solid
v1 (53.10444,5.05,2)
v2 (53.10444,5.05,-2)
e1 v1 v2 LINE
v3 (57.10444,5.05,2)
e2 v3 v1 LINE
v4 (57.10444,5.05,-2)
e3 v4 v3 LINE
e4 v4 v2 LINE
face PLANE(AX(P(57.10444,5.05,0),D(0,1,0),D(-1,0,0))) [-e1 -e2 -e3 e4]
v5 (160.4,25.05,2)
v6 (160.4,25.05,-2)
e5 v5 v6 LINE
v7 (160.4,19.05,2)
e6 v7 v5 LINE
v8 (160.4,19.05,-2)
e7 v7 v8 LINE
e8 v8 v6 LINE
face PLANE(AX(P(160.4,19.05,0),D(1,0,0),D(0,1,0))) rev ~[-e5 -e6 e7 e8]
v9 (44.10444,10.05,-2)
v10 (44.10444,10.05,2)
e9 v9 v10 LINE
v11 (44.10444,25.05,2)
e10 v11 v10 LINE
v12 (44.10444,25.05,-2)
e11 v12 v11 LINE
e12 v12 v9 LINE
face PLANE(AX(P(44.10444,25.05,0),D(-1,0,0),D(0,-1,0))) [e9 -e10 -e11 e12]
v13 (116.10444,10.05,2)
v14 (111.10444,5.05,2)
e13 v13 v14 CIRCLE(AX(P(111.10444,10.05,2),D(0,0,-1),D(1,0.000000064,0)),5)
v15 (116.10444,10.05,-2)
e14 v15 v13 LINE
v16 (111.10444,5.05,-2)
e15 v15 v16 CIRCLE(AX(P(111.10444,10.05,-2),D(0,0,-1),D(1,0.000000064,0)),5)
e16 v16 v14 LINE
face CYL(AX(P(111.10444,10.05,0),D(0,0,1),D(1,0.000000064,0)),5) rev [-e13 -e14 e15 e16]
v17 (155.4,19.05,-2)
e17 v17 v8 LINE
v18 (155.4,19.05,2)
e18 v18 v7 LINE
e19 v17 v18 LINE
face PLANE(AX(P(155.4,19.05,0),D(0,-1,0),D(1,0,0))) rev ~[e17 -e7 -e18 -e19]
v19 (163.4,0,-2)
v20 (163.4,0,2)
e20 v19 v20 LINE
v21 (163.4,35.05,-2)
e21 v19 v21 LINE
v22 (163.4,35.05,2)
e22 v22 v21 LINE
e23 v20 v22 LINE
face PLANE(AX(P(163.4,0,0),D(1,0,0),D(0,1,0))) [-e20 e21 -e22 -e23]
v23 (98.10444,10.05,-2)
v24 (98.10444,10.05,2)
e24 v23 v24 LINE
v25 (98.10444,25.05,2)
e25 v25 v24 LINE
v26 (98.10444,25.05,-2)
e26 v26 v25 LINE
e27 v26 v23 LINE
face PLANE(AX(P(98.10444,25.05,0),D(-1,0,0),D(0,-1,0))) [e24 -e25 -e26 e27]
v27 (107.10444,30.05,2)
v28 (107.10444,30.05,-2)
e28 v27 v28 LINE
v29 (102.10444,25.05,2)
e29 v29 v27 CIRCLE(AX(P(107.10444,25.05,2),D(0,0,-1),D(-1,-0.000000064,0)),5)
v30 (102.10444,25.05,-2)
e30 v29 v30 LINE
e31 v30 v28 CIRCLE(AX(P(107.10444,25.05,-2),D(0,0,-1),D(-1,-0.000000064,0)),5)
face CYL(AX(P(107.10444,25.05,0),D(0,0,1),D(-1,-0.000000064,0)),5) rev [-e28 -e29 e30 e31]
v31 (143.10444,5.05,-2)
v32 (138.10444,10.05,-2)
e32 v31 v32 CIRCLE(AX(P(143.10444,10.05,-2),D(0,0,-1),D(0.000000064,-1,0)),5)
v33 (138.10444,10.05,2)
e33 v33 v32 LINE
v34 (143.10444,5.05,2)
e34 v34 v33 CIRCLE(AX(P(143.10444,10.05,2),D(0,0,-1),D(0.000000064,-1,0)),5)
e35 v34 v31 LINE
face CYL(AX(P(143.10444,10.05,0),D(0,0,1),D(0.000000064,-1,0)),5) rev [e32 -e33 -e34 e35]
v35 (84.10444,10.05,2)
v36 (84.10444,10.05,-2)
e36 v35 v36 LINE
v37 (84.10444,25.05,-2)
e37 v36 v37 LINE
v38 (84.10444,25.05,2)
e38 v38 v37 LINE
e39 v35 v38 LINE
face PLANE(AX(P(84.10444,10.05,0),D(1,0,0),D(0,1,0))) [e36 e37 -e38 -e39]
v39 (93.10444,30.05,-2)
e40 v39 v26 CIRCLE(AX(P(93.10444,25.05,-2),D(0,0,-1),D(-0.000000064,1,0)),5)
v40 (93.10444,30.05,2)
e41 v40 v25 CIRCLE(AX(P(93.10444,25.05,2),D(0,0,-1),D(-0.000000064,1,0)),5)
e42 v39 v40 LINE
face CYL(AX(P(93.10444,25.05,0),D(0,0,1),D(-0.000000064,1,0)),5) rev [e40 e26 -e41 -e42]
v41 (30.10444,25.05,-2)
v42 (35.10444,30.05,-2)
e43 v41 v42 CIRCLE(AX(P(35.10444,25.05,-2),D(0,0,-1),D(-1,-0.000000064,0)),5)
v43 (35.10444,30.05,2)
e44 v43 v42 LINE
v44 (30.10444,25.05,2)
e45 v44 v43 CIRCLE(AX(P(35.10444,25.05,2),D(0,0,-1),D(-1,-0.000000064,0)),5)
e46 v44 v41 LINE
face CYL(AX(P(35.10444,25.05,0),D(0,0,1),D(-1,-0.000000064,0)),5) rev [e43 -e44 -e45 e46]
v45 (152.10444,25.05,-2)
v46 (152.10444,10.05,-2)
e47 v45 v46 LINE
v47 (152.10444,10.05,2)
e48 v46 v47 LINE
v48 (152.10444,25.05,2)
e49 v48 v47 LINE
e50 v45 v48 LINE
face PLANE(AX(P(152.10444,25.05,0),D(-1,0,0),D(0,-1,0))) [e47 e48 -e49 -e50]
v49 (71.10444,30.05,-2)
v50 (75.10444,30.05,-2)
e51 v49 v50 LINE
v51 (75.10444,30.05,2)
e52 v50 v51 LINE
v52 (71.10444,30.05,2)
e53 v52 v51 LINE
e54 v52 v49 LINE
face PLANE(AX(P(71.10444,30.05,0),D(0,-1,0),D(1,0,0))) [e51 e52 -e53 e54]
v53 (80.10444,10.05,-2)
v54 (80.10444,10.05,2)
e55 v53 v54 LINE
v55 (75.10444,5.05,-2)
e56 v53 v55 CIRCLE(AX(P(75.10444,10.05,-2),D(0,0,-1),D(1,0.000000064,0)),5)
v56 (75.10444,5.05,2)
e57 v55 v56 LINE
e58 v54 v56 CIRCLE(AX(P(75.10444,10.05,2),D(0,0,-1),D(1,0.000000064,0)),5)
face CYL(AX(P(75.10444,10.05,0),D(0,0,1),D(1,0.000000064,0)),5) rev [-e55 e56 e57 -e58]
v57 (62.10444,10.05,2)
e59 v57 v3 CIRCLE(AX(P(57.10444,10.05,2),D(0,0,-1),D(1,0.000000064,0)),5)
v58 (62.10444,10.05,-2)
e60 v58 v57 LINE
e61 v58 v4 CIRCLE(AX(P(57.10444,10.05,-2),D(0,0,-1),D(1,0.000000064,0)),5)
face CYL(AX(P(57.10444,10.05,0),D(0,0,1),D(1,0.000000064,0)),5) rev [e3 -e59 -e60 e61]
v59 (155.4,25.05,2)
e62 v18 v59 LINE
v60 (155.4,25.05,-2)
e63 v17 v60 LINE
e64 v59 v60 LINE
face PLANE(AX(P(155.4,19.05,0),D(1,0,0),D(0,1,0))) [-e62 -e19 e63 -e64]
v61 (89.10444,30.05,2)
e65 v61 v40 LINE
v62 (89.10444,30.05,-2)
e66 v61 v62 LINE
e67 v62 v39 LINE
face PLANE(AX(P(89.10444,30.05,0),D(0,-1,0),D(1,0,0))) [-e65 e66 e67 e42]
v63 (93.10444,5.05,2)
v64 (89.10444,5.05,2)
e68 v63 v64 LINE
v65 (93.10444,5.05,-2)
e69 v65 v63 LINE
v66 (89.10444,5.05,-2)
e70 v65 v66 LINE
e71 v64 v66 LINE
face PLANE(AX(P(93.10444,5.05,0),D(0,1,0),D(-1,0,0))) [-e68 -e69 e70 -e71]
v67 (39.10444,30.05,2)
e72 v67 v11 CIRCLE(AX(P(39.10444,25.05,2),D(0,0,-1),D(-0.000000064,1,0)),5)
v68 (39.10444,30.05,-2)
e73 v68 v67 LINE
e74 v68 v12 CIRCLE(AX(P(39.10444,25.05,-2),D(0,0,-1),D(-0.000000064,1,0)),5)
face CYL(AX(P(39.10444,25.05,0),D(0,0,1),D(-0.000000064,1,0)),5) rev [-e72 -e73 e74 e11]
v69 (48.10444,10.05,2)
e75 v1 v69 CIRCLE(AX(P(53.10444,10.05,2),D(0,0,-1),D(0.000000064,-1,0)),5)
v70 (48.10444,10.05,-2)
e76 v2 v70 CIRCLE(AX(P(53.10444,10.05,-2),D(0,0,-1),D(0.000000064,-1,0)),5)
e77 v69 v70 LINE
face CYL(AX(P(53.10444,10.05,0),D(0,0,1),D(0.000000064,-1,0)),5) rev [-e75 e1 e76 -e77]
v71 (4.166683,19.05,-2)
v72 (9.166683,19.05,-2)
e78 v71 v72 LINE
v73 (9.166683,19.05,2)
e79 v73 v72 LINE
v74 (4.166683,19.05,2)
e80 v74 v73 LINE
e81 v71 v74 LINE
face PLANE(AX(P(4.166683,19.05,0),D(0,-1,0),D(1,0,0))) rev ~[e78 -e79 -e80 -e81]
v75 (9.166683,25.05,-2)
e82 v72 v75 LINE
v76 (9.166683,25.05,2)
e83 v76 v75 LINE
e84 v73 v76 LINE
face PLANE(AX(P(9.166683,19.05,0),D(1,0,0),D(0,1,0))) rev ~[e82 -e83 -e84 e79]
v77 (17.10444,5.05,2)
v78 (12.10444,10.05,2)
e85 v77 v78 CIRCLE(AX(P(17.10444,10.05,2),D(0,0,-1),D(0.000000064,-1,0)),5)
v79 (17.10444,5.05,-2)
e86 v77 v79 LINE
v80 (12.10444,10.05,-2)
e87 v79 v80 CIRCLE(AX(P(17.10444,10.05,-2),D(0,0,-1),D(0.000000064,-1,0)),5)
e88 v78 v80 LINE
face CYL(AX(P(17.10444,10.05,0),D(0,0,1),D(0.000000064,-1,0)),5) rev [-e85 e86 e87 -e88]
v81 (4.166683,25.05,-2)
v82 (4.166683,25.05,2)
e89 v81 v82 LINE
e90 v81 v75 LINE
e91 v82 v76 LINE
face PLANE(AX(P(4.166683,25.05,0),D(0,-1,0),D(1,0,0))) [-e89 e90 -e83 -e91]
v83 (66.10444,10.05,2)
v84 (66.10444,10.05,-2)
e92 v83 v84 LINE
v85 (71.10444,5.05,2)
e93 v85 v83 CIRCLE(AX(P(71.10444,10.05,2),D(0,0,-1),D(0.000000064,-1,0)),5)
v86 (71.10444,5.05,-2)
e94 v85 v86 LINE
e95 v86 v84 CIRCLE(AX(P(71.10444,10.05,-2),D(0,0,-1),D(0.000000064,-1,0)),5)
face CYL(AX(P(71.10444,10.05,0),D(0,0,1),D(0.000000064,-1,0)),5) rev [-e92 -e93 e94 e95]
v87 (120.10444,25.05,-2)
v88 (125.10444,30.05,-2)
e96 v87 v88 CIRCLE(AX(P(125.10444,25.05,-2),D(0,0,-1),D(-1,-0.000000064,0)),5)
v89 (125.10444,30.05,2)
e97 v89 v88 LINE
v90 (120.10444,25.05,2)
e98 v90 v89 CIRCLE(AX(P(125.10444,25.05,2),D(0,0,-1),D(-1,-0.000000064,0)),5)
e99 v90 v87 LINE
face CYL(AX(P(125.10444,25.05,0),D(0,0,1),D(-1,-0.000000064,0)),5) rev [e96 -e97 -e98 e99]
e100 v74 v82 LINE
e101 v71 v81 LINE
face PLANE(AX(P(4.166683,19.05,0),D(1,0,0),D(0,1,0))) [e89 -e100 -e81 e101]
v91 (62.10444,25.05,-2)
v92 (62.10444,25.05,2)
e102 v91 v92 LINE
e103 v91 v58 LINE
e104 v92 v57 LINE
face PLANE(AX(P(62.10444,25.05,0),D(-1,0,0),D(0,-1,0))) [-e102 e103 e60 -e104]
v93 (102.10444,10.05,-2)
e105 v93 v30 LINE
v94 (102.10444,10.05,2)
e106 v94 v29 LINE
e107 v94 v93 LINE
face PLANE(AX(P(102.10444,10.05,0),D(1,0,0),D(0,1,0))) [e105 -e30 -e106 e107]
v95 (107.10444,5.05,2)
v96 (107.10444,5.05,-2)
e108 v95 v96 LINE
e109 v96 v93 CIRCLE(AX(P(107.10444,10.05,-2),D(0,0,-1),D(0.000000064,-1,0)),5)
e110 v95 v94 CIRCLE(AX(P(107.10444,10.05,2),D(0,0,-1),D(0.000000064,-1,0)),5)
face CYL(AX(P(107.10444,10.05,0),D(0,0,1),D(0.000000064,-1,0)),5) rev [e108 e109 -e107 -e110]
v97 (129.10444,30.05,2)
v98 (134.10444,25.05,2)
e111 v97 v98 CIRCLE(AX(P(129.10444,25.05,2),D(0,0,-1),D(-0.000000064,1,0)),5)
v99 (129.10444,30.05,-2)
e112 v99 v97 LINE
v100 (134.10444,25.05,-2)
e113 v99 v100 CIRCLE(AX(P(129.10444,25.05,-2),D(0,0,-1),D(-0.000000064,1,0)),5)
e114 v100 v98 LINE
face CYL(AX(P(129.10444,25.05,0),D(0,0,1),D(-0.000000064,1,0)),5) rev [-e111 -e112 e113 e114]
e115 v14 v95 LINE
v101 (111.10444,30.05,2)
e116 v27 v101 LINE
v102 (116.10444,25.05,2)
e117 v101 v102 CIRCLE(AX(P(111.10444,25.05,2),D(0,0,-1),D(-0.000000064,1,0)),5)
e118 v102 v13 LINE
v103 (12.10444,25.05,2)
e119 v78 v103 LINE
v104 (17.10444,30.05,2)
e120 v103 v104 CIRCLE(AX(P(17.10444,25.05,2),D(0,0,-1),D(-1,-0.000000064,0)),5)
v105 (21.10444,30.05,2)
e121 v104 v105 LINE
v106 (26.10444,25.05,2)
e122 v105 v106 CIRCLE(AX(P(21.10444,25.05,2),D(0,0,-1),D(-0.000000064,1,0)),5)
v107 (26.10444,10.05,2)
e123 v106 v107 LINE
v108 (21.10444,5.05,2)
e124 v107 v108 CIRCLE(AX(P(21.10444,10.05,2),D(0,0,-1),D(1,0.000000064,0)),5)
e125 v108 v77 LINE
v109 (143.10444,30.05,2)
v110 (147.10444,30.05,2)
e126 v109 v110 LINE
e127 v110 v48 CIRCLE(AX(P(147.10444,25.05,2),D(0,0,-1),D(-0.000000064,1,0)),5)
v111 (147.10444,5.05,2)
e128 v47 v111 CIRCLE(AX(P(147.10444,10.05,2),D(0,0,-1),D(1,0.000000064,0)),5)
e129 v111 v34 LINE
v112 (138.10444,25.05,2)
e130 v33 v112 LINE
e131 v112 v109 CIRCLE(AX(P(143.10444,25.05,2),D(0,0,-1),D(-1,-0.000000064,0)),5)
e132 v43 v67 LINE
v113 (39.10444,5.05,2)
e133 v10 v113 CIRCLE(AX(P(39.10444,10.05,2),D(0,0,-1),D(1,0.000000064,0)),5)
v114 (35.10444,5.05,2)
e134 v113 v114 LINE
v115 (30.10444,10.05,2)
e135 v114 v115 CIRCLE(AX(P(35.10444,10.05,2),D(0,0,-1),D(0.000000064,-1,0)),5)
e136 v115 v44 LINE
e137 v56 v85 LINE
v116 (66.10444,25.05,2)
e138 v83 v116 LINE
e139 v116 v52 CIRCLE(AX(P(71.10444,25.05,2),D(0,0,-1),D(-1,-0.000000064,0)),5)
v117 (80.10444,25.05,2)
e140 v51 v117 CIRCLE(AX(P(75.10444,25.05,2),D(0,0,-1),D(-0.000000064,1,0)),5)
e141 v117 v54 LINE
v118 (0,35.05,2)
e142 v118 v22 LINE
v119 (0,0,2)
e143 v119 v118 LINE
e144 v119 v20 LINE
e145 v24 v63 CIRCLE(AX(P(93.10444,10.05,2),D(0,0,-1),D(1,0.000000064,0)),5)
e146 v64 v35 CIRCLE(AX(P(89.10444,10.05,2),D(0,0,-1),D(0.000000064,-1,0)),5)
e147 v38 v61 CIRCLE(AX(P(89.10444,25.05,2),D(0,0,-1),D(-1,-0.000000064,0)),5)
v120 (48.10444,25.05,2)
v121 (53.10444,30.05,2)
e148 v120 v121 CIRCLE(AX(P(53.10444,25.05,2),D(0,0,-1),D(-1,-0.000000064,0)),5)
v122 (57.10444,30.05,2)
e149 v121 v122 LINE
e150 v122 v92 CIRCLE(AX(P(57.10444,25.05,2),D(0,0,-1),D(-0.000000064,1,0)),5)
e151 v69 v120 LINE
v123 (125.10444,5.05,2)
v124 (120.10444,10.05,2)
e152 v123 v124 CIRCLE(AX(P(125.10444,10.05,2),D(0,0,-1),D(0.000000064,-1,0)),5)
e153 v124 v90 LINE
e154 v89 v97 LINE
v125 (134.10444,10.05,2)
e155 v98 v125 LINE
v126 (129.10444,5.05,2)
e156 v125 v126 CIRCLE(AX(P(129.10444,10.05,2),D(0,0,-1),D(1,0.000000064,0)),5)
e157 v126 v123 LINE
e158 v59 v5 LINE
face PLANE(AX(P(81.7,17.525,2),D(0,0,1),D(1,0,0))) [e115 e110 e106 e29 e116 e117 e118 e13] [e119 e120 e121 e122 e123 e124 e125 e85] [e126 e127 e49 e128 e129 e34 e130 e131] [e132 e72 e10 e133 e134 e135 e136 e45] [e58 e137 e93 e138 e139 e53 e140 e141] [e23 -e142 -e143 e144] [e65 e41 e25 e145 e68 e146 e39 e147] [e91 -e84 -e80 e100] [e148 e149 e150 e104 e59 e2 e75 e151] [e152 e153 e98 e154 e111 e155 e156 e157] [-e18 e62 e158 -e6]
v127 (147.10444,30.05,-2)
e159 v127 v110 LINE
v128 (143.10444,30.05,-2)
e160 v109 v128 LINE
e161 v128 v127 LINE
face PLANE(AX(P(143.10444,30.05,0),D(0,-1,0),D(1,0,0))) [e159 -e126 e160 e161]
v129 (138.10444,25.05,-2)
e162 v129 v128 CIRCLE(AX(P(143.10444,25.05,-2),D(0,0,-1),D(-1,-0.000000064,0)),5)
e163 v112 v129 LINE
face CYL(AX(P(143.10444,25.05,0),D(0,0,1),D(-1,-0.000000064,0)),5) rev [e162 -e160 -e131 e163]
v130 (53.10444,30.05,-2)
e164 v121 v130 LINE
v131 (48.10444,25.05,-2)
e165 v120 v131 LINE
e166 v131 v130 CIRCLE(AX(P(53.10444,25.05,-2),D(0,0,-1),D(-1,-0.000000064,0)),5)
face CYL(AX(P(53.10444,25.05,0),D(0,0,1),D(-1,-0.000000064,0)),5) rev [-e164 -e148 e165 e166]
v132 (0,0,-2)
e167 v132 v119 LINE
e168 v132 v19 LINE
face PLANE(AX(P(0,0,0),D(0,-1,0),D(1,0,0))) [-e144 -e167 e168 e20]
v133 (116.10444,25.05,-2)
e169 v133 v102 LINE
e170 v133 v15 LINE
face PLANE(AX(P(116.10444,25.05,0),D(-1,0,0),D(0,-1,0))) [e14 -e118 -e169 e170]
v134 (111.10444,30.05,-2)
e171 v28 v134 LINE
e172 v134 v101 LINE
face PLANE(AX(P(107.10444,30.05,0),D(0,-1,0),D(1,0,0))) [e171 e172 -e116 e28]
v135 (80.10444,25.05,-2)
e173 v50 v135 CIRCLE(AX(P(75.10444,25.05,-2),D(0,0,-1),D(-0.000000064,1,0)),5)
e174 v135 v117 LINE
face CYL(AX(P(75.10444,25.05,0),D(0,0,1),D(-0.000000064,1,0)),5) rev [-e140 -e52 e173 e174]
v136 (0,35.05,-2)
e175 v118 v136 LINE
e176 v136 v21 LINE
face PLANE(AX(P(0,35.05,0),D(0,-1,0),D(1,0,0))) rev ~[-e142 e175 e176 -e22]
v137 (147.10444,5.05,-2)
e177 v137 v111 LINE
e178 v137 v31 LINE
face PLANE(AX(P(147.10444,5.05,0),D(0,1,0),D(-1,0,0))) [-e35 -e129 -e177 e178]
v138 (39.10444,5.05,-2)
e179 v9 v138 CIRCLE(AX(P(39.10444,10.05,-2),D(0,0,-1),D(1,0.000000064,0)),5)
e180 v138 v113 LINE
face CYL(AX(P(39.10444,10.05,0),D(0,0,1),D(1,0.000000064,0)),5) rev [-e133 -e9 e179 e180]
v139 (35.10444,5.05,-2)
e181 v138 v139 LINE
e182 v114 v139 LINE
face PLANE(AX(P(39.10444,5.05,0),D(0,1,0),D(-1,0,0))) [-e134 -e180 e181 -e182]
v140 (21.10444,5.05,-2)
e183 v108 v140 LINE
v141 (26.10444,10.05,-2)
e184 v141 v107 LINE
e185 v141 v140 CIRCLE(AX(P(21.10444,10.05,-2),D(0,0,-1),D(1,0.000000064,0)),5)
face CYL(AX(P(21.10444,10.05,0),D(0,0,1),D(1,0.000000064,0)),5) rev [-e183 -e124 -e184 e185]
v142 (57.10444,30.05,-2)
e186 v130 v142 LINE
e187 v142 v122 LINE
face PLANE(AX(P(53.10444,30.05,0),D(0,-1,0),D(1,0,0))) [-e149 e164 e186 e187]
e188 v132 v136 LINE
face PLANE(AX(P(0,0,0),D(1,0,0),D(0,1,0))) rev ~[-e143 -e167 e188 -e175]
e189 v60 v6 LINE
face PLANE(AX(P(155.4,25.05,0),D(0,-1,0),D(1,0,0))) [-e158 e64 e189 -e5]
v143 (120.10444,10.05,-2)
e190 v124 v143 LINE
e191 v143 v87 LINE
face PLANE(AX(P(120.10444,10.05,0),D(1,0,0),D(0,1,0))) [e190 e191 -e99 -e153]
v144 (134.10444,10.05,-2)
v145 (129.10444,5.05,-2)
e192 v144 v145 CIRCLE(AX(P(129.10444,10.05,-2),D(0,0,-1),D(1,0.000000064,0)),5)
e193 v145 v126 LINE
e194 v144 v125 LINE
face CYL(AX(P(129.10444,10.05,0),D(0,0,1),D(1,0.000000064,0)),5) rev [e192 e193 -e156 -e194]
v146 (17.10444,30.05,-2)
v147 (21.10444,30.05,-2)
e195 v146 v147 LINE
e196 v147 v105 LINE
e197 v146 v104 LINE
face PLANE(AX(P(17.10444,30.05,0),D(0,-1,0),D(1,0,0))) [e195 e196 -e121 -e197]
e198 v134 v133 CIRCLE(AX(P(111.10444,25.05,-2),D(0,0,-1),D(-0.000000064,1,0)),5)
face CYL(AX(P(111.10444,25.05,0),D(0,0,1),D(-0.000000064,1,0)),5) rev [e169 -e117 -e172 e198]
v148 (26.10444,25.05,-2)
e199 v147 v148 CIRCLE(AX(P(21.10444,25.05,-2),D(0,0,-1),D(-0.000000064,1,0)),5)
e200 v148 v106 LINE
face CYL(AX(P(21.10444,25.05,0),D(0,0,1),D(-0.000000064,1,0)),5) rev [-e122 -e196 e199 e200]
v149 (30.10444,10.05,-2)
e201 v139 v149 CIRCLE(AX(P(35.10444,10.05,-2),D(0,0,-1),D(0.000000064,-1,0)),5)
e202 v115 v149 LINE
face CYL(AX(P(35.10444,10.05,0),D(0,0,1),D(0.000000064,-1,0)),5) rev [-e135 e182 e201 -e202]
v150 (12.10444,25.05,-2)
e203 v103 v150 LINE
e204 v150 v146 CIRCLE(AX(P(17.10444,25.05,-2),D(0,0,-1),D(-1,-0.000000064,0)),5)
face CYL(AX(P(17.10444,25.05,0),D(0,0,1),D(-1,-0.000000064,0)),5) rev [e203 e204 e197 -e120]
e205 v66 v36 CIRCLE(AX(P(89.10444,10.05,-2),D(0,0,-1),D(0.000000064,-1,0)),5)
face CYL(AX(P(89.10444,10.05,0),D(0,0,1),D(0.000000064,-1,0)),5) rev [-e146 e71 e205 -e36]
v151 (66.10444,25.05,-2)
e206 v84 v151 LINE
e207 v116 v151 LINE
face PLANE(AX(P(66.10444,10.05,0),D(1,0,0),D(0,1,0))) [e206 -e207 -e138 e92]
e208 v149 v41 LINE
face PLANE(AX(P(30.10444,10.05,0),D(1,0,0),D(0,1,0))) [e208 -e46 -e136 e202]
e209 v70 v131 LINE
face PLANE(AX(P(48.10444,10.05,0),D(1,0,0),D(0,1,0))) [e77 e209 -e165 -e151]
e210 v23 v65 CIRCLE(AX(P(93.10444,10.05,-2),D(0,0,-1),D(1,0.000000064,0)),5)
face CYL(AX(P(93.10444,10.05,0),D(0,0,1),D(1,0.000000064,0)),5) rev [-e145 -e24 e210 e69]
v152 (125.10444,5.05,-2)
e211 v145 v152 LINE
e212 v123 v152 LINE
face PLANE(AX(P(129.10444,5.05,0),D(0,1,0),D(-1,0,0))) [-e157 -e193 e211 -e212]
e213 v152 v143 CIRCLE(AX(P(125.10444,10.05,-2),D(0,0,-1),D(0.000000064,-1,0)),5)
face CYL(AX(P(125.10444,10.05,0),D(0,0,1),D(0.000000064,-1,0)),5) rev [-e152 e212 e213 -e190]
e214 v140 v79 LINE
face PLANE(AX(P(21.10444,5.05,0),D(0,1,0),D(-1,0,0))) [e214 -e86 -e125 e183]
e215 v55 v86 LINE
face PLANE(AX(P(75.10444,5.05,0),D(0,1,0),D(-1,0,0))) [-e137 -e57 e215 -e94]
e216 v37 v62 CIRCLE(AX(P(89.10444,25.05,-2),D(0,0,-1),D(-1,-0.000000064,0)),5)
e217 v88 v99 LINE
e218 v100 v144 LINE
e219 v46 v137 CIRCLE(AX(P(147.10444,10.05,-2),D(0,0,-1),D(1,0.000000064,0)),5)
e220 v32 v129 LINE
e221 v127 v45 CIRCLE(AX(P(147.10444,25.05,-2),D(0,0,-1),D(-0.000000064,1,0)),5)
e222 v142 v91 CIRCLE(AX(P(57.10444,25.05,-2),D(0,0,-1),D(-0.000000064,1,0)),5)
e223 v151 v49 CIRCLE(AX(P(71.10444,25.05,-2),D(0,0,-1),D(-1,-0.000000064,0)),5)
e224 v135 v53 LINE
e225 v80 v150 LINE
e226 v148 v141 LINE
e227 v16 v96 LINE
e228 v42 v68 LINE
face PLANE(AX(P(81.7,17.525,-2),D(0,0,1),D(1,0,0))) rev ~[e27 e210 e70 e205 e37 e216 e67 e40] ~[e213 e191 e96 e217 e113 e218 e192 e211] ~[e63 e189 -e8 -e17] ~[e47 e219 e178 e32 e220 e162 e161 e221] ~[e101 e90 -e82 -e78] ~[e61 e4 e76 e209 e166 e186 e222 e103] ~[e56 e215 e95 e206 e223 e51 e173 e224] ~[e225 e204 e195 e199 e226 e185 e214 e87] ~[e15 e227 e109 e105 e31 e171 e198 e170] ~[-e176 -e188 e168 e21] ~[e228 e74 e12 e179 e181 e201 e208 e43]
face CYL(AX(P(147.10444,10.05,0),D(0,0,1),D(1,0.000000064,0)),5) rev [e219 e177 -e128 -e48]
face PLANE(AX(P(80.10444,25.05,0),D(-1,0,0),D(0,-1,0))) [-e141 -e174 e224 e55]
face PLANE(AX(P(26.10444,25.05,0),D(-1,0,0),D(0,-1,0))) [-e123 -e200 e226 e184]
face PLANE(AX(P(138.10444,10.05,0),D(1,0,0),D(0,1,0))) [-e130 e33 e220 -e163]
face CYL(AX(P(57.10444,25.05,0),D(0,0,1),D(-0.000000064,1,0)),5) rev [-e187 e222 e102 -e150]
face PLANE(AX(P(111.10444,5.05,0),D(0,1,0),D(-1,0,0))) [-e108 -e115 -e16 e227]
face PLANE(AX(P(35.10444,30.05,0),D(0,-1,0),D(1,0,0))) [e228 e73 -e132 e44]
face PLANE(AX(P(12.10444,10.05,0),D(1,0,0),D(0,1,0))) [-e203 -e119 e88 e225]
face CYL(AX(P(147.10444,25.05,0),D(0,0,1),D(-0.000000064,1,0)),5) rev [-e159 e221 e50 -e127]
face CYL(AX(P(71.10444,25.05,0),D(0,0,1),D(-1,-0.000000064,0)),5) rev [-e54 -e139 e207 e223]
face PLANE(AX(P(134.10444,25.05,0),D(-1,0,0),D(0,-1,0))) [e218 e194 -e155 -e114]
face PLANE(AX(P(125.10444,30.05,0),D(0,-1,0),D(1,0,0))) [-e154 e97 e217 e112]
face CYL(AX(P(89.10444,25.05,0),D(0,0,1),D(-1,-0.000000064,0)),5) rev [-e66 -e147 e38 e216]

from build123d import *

# Parameters (mm, degrees)
F0_W     = 163.4
F0_H     = 35.05
F0_W_2   = 5
F0_H_2   = 6
F1_DEPTH = 2


with BuildPart() as f1:
    # F0 (on Top) → F1 (new body, symmetric)
    with BuildSketch(Plane.XY):
        with Locations((81.7, 17.525)):
            Rectangle(F0_W, F0_H)
        with BuildLine():
            Line((17.10444, 30.05), (21.10444, 30.05))
            ThreePointArc((21.10444, 30.05), (24.639974, 28.585534), (26.10444, 25.05))
            Line((26.10444, 25.05), (26.10444, 10.05))
            ThreePointArc((26.10444, 10.05), (24.639974, 6.514466), (21.10444, 5.05))
            Line((21.10444, 5.05), (17.10444, 5.05))
            ThreePointArc((17.10444, 5.05), (13.568906, 6.514466), (12.10444, 10.05))
            Line((12.10444, 10.05), (12.10444, 25.05))
            ThreePointArc((12.10444, 25.05), (13.568906, 28.585534), (17.10444, 30.05))
        make_face(mode=Mode.SUBTRACT)
        with BuildLine():
            ThreePointArc((39.10444, 30.05), (42.639974, 28.585534), (44.10444, 25.05))
            Line((44.10444, 25.05), (44.10444, 10.05))
            ThreePointArc((44.10444, 10.05), (42.639974, 6.514466), (39.10444, 5.05))
            Line((39.10444, 5.05), (35.10444, 5.05))
            ThreePointArc((35.10444, 5.05), (31.568906, 6.514466), (30.10444, 10.05))
            Line((30.10444, 10.05), (30.10444, 25.05))
            ThreePointArc((30.10444, 25.05), (31.568906, 28.585534), (35.10444, 30.05))
            Line((35.10444, 30.05), (39.10444, 30.05))
        make_face(mode=Mode.SUBTRACT)
        with Locations((6.666683, 22.05)):
            Rectangle(F0_W_2, F0_H_2, mode=Mode.SUBTRACT)
        with BuildLine():
            ThreePointArc((57.10444, 30.05), (60.639974, 28.585534), (62.10444, 25.05))
            Line((62.10444, 25.05), (62.10444, 10.05))
            ThreePointArc((62.10444, 10.05), (60.639974, 6.514466), (57.10444, 5.05))
            Line((57.10444, 5.05), (53.10444, 5.05))
            ThreePointArc((53.10444, 5.05), (49.568906, 6.514466), (48.10444, 10.05))
            Line((48.10444, 10.05), (48.10444, 25.05))
            ThreePointArc((48.10444, 25.05), (49.568906, 28.585534), (53.10444, 30.05))
            Line((53.10444, 30.05), (57.10444, 30.05))
        make_face(mode=Mode.SUBTRACT)
        with BuildLine():
            ThreePointArc((75.10444, 30.05), (78.639974, 28.585534), (80.10444, 25.05))
            Line((80.10444, 25.05), (80.10444, 10.05))
            ThreePointArc((80.10444, 10.05), (78.639974, 6.514466), (75.10444, 5.05))
            Line((75.10444, 5.05), (71.10444, 5.05))
            ThreePointArc((71.10444, 5.05), (67.568906, 6.514466), (66.10444, 10.05))
            Line((66.10444, 10.05), (66.10444, 25.05))
            ThreePointArc((66.10444, 25.05), (67.568906, 28.585534), (71.10444, 30.05))
            Line((71.10444, 30.05), (75.10444, 30.05))
        make_face(mode=Mode.SUBTRACT)
        with BuildLine():
            ThreePointArc((93.10444, 30.05), (96.639974, 28.585534), (98.10444, 25.05))
            Line((98.10444, 25.05), (98.10444, 10.05))
            ThreePointArc((98.10444, 10.05), (96.639974, 6.514466), (93.10444, 5.05))
            Line((93.10444, 5.05), (89.10444, 5.05))
            ThreePointArc((89.10444, 5.05), (85.568906, 6.514466), (84.10444, 10.05))
            Line((84.10444, 10.05), (84.10444, 25.05))
            ThreePointArc((84.10444, 25.05), (85.568906, 28.585534), (89.10444, 30.05))
            Line((89.10444, 30.05), (93.10444, 30.05))
        make_face(mode=Mode.SUBTRACT)
        with BuildLine():
            ThreePointArc((111.10444, 30.05), (114.639974, 28.585534), (116.10444, 25.05))
            Line((116.10444, 25.05), (116.10444, 10.05))
            ThreePointArc((116.10444, 10.05), (114.639974, 6.514466), (111.10444, 5.05))
            Line((111.10444, 5.05), (107.10444, 5.05))
            ThreePointArc((107.10444, 5.05), (103.568906, 6.514466), (102.10444, 10.05))
            Line((102.10444, 10.05), (102.10444, 25.05))
            ThreePointArc((102.10444, 25.05), (103.568906, 28.585534), (107.10444, 30.05))
            Line((107.10444, 30.05), (111.10444, 30.05))
        make_face(mode=Mode.SUBTRACT)
        with BuildLine():
            ThreePointArc((129.10444, 30.05), (132.639974, 28.585534), (134.10444, 25.05))
            Line((134.10444, 25.05), (134.10444, 10.05))
            ThreePointArc((134.10444, 10.05), (132.639974, 6.514466), (129.10444, 5.05))
            Line((129.10444, 5.05), (125.10444, 5.05))
            ThreePointArc((125.10444, 5.05), (121.568906, 6.514466), (120.10444, 10.05))
            Line((120.10444, 10.05), (120.10444, 25.05))
            ThreePointArc((120.10444, 25.05), (121.568906, 28.585534), (125.10444, 30.05))
            Line((125.10444, 30.05), (129.10444, 30.05))
        make_face(mode=Mode.SUBTRACT)
        with BuildLine():
            ThreePointArc((147.10444, 30.05), (150.639974, 28.585534), (152.10444, 25.05))
            Line((152.10444, 25.05), (152.10444, 10.05))
            ThreePointArc((152.10444, 10.05), (150.639974, 6.514466), (147.10444, 5.05))
            Line((147.10444, 5.05), (143.10444, 5.05))
            ThreePointArc((143.10444, 5.05), (139.568906, 6.514466), (138.10444, 10.05))
            Line((138.10444, 10.05), (138.10444, 25.05))
            ThreePointArc((138.10444, 25.05), (139.568906, 28.585534), (143.10444, 30.05))
            Line((143.10444, 30.05), (147.10444, 30.05))
        make_face(mode=Mode.SUBTRACT)
        with Locations((157.9, 22.05)):
            Rectangle(F0_W_2, F0_H_2, mode=Mode.SUBTRACT)
    extrude(amount=F1_DEPTH, both=True)


solid = f1.part
